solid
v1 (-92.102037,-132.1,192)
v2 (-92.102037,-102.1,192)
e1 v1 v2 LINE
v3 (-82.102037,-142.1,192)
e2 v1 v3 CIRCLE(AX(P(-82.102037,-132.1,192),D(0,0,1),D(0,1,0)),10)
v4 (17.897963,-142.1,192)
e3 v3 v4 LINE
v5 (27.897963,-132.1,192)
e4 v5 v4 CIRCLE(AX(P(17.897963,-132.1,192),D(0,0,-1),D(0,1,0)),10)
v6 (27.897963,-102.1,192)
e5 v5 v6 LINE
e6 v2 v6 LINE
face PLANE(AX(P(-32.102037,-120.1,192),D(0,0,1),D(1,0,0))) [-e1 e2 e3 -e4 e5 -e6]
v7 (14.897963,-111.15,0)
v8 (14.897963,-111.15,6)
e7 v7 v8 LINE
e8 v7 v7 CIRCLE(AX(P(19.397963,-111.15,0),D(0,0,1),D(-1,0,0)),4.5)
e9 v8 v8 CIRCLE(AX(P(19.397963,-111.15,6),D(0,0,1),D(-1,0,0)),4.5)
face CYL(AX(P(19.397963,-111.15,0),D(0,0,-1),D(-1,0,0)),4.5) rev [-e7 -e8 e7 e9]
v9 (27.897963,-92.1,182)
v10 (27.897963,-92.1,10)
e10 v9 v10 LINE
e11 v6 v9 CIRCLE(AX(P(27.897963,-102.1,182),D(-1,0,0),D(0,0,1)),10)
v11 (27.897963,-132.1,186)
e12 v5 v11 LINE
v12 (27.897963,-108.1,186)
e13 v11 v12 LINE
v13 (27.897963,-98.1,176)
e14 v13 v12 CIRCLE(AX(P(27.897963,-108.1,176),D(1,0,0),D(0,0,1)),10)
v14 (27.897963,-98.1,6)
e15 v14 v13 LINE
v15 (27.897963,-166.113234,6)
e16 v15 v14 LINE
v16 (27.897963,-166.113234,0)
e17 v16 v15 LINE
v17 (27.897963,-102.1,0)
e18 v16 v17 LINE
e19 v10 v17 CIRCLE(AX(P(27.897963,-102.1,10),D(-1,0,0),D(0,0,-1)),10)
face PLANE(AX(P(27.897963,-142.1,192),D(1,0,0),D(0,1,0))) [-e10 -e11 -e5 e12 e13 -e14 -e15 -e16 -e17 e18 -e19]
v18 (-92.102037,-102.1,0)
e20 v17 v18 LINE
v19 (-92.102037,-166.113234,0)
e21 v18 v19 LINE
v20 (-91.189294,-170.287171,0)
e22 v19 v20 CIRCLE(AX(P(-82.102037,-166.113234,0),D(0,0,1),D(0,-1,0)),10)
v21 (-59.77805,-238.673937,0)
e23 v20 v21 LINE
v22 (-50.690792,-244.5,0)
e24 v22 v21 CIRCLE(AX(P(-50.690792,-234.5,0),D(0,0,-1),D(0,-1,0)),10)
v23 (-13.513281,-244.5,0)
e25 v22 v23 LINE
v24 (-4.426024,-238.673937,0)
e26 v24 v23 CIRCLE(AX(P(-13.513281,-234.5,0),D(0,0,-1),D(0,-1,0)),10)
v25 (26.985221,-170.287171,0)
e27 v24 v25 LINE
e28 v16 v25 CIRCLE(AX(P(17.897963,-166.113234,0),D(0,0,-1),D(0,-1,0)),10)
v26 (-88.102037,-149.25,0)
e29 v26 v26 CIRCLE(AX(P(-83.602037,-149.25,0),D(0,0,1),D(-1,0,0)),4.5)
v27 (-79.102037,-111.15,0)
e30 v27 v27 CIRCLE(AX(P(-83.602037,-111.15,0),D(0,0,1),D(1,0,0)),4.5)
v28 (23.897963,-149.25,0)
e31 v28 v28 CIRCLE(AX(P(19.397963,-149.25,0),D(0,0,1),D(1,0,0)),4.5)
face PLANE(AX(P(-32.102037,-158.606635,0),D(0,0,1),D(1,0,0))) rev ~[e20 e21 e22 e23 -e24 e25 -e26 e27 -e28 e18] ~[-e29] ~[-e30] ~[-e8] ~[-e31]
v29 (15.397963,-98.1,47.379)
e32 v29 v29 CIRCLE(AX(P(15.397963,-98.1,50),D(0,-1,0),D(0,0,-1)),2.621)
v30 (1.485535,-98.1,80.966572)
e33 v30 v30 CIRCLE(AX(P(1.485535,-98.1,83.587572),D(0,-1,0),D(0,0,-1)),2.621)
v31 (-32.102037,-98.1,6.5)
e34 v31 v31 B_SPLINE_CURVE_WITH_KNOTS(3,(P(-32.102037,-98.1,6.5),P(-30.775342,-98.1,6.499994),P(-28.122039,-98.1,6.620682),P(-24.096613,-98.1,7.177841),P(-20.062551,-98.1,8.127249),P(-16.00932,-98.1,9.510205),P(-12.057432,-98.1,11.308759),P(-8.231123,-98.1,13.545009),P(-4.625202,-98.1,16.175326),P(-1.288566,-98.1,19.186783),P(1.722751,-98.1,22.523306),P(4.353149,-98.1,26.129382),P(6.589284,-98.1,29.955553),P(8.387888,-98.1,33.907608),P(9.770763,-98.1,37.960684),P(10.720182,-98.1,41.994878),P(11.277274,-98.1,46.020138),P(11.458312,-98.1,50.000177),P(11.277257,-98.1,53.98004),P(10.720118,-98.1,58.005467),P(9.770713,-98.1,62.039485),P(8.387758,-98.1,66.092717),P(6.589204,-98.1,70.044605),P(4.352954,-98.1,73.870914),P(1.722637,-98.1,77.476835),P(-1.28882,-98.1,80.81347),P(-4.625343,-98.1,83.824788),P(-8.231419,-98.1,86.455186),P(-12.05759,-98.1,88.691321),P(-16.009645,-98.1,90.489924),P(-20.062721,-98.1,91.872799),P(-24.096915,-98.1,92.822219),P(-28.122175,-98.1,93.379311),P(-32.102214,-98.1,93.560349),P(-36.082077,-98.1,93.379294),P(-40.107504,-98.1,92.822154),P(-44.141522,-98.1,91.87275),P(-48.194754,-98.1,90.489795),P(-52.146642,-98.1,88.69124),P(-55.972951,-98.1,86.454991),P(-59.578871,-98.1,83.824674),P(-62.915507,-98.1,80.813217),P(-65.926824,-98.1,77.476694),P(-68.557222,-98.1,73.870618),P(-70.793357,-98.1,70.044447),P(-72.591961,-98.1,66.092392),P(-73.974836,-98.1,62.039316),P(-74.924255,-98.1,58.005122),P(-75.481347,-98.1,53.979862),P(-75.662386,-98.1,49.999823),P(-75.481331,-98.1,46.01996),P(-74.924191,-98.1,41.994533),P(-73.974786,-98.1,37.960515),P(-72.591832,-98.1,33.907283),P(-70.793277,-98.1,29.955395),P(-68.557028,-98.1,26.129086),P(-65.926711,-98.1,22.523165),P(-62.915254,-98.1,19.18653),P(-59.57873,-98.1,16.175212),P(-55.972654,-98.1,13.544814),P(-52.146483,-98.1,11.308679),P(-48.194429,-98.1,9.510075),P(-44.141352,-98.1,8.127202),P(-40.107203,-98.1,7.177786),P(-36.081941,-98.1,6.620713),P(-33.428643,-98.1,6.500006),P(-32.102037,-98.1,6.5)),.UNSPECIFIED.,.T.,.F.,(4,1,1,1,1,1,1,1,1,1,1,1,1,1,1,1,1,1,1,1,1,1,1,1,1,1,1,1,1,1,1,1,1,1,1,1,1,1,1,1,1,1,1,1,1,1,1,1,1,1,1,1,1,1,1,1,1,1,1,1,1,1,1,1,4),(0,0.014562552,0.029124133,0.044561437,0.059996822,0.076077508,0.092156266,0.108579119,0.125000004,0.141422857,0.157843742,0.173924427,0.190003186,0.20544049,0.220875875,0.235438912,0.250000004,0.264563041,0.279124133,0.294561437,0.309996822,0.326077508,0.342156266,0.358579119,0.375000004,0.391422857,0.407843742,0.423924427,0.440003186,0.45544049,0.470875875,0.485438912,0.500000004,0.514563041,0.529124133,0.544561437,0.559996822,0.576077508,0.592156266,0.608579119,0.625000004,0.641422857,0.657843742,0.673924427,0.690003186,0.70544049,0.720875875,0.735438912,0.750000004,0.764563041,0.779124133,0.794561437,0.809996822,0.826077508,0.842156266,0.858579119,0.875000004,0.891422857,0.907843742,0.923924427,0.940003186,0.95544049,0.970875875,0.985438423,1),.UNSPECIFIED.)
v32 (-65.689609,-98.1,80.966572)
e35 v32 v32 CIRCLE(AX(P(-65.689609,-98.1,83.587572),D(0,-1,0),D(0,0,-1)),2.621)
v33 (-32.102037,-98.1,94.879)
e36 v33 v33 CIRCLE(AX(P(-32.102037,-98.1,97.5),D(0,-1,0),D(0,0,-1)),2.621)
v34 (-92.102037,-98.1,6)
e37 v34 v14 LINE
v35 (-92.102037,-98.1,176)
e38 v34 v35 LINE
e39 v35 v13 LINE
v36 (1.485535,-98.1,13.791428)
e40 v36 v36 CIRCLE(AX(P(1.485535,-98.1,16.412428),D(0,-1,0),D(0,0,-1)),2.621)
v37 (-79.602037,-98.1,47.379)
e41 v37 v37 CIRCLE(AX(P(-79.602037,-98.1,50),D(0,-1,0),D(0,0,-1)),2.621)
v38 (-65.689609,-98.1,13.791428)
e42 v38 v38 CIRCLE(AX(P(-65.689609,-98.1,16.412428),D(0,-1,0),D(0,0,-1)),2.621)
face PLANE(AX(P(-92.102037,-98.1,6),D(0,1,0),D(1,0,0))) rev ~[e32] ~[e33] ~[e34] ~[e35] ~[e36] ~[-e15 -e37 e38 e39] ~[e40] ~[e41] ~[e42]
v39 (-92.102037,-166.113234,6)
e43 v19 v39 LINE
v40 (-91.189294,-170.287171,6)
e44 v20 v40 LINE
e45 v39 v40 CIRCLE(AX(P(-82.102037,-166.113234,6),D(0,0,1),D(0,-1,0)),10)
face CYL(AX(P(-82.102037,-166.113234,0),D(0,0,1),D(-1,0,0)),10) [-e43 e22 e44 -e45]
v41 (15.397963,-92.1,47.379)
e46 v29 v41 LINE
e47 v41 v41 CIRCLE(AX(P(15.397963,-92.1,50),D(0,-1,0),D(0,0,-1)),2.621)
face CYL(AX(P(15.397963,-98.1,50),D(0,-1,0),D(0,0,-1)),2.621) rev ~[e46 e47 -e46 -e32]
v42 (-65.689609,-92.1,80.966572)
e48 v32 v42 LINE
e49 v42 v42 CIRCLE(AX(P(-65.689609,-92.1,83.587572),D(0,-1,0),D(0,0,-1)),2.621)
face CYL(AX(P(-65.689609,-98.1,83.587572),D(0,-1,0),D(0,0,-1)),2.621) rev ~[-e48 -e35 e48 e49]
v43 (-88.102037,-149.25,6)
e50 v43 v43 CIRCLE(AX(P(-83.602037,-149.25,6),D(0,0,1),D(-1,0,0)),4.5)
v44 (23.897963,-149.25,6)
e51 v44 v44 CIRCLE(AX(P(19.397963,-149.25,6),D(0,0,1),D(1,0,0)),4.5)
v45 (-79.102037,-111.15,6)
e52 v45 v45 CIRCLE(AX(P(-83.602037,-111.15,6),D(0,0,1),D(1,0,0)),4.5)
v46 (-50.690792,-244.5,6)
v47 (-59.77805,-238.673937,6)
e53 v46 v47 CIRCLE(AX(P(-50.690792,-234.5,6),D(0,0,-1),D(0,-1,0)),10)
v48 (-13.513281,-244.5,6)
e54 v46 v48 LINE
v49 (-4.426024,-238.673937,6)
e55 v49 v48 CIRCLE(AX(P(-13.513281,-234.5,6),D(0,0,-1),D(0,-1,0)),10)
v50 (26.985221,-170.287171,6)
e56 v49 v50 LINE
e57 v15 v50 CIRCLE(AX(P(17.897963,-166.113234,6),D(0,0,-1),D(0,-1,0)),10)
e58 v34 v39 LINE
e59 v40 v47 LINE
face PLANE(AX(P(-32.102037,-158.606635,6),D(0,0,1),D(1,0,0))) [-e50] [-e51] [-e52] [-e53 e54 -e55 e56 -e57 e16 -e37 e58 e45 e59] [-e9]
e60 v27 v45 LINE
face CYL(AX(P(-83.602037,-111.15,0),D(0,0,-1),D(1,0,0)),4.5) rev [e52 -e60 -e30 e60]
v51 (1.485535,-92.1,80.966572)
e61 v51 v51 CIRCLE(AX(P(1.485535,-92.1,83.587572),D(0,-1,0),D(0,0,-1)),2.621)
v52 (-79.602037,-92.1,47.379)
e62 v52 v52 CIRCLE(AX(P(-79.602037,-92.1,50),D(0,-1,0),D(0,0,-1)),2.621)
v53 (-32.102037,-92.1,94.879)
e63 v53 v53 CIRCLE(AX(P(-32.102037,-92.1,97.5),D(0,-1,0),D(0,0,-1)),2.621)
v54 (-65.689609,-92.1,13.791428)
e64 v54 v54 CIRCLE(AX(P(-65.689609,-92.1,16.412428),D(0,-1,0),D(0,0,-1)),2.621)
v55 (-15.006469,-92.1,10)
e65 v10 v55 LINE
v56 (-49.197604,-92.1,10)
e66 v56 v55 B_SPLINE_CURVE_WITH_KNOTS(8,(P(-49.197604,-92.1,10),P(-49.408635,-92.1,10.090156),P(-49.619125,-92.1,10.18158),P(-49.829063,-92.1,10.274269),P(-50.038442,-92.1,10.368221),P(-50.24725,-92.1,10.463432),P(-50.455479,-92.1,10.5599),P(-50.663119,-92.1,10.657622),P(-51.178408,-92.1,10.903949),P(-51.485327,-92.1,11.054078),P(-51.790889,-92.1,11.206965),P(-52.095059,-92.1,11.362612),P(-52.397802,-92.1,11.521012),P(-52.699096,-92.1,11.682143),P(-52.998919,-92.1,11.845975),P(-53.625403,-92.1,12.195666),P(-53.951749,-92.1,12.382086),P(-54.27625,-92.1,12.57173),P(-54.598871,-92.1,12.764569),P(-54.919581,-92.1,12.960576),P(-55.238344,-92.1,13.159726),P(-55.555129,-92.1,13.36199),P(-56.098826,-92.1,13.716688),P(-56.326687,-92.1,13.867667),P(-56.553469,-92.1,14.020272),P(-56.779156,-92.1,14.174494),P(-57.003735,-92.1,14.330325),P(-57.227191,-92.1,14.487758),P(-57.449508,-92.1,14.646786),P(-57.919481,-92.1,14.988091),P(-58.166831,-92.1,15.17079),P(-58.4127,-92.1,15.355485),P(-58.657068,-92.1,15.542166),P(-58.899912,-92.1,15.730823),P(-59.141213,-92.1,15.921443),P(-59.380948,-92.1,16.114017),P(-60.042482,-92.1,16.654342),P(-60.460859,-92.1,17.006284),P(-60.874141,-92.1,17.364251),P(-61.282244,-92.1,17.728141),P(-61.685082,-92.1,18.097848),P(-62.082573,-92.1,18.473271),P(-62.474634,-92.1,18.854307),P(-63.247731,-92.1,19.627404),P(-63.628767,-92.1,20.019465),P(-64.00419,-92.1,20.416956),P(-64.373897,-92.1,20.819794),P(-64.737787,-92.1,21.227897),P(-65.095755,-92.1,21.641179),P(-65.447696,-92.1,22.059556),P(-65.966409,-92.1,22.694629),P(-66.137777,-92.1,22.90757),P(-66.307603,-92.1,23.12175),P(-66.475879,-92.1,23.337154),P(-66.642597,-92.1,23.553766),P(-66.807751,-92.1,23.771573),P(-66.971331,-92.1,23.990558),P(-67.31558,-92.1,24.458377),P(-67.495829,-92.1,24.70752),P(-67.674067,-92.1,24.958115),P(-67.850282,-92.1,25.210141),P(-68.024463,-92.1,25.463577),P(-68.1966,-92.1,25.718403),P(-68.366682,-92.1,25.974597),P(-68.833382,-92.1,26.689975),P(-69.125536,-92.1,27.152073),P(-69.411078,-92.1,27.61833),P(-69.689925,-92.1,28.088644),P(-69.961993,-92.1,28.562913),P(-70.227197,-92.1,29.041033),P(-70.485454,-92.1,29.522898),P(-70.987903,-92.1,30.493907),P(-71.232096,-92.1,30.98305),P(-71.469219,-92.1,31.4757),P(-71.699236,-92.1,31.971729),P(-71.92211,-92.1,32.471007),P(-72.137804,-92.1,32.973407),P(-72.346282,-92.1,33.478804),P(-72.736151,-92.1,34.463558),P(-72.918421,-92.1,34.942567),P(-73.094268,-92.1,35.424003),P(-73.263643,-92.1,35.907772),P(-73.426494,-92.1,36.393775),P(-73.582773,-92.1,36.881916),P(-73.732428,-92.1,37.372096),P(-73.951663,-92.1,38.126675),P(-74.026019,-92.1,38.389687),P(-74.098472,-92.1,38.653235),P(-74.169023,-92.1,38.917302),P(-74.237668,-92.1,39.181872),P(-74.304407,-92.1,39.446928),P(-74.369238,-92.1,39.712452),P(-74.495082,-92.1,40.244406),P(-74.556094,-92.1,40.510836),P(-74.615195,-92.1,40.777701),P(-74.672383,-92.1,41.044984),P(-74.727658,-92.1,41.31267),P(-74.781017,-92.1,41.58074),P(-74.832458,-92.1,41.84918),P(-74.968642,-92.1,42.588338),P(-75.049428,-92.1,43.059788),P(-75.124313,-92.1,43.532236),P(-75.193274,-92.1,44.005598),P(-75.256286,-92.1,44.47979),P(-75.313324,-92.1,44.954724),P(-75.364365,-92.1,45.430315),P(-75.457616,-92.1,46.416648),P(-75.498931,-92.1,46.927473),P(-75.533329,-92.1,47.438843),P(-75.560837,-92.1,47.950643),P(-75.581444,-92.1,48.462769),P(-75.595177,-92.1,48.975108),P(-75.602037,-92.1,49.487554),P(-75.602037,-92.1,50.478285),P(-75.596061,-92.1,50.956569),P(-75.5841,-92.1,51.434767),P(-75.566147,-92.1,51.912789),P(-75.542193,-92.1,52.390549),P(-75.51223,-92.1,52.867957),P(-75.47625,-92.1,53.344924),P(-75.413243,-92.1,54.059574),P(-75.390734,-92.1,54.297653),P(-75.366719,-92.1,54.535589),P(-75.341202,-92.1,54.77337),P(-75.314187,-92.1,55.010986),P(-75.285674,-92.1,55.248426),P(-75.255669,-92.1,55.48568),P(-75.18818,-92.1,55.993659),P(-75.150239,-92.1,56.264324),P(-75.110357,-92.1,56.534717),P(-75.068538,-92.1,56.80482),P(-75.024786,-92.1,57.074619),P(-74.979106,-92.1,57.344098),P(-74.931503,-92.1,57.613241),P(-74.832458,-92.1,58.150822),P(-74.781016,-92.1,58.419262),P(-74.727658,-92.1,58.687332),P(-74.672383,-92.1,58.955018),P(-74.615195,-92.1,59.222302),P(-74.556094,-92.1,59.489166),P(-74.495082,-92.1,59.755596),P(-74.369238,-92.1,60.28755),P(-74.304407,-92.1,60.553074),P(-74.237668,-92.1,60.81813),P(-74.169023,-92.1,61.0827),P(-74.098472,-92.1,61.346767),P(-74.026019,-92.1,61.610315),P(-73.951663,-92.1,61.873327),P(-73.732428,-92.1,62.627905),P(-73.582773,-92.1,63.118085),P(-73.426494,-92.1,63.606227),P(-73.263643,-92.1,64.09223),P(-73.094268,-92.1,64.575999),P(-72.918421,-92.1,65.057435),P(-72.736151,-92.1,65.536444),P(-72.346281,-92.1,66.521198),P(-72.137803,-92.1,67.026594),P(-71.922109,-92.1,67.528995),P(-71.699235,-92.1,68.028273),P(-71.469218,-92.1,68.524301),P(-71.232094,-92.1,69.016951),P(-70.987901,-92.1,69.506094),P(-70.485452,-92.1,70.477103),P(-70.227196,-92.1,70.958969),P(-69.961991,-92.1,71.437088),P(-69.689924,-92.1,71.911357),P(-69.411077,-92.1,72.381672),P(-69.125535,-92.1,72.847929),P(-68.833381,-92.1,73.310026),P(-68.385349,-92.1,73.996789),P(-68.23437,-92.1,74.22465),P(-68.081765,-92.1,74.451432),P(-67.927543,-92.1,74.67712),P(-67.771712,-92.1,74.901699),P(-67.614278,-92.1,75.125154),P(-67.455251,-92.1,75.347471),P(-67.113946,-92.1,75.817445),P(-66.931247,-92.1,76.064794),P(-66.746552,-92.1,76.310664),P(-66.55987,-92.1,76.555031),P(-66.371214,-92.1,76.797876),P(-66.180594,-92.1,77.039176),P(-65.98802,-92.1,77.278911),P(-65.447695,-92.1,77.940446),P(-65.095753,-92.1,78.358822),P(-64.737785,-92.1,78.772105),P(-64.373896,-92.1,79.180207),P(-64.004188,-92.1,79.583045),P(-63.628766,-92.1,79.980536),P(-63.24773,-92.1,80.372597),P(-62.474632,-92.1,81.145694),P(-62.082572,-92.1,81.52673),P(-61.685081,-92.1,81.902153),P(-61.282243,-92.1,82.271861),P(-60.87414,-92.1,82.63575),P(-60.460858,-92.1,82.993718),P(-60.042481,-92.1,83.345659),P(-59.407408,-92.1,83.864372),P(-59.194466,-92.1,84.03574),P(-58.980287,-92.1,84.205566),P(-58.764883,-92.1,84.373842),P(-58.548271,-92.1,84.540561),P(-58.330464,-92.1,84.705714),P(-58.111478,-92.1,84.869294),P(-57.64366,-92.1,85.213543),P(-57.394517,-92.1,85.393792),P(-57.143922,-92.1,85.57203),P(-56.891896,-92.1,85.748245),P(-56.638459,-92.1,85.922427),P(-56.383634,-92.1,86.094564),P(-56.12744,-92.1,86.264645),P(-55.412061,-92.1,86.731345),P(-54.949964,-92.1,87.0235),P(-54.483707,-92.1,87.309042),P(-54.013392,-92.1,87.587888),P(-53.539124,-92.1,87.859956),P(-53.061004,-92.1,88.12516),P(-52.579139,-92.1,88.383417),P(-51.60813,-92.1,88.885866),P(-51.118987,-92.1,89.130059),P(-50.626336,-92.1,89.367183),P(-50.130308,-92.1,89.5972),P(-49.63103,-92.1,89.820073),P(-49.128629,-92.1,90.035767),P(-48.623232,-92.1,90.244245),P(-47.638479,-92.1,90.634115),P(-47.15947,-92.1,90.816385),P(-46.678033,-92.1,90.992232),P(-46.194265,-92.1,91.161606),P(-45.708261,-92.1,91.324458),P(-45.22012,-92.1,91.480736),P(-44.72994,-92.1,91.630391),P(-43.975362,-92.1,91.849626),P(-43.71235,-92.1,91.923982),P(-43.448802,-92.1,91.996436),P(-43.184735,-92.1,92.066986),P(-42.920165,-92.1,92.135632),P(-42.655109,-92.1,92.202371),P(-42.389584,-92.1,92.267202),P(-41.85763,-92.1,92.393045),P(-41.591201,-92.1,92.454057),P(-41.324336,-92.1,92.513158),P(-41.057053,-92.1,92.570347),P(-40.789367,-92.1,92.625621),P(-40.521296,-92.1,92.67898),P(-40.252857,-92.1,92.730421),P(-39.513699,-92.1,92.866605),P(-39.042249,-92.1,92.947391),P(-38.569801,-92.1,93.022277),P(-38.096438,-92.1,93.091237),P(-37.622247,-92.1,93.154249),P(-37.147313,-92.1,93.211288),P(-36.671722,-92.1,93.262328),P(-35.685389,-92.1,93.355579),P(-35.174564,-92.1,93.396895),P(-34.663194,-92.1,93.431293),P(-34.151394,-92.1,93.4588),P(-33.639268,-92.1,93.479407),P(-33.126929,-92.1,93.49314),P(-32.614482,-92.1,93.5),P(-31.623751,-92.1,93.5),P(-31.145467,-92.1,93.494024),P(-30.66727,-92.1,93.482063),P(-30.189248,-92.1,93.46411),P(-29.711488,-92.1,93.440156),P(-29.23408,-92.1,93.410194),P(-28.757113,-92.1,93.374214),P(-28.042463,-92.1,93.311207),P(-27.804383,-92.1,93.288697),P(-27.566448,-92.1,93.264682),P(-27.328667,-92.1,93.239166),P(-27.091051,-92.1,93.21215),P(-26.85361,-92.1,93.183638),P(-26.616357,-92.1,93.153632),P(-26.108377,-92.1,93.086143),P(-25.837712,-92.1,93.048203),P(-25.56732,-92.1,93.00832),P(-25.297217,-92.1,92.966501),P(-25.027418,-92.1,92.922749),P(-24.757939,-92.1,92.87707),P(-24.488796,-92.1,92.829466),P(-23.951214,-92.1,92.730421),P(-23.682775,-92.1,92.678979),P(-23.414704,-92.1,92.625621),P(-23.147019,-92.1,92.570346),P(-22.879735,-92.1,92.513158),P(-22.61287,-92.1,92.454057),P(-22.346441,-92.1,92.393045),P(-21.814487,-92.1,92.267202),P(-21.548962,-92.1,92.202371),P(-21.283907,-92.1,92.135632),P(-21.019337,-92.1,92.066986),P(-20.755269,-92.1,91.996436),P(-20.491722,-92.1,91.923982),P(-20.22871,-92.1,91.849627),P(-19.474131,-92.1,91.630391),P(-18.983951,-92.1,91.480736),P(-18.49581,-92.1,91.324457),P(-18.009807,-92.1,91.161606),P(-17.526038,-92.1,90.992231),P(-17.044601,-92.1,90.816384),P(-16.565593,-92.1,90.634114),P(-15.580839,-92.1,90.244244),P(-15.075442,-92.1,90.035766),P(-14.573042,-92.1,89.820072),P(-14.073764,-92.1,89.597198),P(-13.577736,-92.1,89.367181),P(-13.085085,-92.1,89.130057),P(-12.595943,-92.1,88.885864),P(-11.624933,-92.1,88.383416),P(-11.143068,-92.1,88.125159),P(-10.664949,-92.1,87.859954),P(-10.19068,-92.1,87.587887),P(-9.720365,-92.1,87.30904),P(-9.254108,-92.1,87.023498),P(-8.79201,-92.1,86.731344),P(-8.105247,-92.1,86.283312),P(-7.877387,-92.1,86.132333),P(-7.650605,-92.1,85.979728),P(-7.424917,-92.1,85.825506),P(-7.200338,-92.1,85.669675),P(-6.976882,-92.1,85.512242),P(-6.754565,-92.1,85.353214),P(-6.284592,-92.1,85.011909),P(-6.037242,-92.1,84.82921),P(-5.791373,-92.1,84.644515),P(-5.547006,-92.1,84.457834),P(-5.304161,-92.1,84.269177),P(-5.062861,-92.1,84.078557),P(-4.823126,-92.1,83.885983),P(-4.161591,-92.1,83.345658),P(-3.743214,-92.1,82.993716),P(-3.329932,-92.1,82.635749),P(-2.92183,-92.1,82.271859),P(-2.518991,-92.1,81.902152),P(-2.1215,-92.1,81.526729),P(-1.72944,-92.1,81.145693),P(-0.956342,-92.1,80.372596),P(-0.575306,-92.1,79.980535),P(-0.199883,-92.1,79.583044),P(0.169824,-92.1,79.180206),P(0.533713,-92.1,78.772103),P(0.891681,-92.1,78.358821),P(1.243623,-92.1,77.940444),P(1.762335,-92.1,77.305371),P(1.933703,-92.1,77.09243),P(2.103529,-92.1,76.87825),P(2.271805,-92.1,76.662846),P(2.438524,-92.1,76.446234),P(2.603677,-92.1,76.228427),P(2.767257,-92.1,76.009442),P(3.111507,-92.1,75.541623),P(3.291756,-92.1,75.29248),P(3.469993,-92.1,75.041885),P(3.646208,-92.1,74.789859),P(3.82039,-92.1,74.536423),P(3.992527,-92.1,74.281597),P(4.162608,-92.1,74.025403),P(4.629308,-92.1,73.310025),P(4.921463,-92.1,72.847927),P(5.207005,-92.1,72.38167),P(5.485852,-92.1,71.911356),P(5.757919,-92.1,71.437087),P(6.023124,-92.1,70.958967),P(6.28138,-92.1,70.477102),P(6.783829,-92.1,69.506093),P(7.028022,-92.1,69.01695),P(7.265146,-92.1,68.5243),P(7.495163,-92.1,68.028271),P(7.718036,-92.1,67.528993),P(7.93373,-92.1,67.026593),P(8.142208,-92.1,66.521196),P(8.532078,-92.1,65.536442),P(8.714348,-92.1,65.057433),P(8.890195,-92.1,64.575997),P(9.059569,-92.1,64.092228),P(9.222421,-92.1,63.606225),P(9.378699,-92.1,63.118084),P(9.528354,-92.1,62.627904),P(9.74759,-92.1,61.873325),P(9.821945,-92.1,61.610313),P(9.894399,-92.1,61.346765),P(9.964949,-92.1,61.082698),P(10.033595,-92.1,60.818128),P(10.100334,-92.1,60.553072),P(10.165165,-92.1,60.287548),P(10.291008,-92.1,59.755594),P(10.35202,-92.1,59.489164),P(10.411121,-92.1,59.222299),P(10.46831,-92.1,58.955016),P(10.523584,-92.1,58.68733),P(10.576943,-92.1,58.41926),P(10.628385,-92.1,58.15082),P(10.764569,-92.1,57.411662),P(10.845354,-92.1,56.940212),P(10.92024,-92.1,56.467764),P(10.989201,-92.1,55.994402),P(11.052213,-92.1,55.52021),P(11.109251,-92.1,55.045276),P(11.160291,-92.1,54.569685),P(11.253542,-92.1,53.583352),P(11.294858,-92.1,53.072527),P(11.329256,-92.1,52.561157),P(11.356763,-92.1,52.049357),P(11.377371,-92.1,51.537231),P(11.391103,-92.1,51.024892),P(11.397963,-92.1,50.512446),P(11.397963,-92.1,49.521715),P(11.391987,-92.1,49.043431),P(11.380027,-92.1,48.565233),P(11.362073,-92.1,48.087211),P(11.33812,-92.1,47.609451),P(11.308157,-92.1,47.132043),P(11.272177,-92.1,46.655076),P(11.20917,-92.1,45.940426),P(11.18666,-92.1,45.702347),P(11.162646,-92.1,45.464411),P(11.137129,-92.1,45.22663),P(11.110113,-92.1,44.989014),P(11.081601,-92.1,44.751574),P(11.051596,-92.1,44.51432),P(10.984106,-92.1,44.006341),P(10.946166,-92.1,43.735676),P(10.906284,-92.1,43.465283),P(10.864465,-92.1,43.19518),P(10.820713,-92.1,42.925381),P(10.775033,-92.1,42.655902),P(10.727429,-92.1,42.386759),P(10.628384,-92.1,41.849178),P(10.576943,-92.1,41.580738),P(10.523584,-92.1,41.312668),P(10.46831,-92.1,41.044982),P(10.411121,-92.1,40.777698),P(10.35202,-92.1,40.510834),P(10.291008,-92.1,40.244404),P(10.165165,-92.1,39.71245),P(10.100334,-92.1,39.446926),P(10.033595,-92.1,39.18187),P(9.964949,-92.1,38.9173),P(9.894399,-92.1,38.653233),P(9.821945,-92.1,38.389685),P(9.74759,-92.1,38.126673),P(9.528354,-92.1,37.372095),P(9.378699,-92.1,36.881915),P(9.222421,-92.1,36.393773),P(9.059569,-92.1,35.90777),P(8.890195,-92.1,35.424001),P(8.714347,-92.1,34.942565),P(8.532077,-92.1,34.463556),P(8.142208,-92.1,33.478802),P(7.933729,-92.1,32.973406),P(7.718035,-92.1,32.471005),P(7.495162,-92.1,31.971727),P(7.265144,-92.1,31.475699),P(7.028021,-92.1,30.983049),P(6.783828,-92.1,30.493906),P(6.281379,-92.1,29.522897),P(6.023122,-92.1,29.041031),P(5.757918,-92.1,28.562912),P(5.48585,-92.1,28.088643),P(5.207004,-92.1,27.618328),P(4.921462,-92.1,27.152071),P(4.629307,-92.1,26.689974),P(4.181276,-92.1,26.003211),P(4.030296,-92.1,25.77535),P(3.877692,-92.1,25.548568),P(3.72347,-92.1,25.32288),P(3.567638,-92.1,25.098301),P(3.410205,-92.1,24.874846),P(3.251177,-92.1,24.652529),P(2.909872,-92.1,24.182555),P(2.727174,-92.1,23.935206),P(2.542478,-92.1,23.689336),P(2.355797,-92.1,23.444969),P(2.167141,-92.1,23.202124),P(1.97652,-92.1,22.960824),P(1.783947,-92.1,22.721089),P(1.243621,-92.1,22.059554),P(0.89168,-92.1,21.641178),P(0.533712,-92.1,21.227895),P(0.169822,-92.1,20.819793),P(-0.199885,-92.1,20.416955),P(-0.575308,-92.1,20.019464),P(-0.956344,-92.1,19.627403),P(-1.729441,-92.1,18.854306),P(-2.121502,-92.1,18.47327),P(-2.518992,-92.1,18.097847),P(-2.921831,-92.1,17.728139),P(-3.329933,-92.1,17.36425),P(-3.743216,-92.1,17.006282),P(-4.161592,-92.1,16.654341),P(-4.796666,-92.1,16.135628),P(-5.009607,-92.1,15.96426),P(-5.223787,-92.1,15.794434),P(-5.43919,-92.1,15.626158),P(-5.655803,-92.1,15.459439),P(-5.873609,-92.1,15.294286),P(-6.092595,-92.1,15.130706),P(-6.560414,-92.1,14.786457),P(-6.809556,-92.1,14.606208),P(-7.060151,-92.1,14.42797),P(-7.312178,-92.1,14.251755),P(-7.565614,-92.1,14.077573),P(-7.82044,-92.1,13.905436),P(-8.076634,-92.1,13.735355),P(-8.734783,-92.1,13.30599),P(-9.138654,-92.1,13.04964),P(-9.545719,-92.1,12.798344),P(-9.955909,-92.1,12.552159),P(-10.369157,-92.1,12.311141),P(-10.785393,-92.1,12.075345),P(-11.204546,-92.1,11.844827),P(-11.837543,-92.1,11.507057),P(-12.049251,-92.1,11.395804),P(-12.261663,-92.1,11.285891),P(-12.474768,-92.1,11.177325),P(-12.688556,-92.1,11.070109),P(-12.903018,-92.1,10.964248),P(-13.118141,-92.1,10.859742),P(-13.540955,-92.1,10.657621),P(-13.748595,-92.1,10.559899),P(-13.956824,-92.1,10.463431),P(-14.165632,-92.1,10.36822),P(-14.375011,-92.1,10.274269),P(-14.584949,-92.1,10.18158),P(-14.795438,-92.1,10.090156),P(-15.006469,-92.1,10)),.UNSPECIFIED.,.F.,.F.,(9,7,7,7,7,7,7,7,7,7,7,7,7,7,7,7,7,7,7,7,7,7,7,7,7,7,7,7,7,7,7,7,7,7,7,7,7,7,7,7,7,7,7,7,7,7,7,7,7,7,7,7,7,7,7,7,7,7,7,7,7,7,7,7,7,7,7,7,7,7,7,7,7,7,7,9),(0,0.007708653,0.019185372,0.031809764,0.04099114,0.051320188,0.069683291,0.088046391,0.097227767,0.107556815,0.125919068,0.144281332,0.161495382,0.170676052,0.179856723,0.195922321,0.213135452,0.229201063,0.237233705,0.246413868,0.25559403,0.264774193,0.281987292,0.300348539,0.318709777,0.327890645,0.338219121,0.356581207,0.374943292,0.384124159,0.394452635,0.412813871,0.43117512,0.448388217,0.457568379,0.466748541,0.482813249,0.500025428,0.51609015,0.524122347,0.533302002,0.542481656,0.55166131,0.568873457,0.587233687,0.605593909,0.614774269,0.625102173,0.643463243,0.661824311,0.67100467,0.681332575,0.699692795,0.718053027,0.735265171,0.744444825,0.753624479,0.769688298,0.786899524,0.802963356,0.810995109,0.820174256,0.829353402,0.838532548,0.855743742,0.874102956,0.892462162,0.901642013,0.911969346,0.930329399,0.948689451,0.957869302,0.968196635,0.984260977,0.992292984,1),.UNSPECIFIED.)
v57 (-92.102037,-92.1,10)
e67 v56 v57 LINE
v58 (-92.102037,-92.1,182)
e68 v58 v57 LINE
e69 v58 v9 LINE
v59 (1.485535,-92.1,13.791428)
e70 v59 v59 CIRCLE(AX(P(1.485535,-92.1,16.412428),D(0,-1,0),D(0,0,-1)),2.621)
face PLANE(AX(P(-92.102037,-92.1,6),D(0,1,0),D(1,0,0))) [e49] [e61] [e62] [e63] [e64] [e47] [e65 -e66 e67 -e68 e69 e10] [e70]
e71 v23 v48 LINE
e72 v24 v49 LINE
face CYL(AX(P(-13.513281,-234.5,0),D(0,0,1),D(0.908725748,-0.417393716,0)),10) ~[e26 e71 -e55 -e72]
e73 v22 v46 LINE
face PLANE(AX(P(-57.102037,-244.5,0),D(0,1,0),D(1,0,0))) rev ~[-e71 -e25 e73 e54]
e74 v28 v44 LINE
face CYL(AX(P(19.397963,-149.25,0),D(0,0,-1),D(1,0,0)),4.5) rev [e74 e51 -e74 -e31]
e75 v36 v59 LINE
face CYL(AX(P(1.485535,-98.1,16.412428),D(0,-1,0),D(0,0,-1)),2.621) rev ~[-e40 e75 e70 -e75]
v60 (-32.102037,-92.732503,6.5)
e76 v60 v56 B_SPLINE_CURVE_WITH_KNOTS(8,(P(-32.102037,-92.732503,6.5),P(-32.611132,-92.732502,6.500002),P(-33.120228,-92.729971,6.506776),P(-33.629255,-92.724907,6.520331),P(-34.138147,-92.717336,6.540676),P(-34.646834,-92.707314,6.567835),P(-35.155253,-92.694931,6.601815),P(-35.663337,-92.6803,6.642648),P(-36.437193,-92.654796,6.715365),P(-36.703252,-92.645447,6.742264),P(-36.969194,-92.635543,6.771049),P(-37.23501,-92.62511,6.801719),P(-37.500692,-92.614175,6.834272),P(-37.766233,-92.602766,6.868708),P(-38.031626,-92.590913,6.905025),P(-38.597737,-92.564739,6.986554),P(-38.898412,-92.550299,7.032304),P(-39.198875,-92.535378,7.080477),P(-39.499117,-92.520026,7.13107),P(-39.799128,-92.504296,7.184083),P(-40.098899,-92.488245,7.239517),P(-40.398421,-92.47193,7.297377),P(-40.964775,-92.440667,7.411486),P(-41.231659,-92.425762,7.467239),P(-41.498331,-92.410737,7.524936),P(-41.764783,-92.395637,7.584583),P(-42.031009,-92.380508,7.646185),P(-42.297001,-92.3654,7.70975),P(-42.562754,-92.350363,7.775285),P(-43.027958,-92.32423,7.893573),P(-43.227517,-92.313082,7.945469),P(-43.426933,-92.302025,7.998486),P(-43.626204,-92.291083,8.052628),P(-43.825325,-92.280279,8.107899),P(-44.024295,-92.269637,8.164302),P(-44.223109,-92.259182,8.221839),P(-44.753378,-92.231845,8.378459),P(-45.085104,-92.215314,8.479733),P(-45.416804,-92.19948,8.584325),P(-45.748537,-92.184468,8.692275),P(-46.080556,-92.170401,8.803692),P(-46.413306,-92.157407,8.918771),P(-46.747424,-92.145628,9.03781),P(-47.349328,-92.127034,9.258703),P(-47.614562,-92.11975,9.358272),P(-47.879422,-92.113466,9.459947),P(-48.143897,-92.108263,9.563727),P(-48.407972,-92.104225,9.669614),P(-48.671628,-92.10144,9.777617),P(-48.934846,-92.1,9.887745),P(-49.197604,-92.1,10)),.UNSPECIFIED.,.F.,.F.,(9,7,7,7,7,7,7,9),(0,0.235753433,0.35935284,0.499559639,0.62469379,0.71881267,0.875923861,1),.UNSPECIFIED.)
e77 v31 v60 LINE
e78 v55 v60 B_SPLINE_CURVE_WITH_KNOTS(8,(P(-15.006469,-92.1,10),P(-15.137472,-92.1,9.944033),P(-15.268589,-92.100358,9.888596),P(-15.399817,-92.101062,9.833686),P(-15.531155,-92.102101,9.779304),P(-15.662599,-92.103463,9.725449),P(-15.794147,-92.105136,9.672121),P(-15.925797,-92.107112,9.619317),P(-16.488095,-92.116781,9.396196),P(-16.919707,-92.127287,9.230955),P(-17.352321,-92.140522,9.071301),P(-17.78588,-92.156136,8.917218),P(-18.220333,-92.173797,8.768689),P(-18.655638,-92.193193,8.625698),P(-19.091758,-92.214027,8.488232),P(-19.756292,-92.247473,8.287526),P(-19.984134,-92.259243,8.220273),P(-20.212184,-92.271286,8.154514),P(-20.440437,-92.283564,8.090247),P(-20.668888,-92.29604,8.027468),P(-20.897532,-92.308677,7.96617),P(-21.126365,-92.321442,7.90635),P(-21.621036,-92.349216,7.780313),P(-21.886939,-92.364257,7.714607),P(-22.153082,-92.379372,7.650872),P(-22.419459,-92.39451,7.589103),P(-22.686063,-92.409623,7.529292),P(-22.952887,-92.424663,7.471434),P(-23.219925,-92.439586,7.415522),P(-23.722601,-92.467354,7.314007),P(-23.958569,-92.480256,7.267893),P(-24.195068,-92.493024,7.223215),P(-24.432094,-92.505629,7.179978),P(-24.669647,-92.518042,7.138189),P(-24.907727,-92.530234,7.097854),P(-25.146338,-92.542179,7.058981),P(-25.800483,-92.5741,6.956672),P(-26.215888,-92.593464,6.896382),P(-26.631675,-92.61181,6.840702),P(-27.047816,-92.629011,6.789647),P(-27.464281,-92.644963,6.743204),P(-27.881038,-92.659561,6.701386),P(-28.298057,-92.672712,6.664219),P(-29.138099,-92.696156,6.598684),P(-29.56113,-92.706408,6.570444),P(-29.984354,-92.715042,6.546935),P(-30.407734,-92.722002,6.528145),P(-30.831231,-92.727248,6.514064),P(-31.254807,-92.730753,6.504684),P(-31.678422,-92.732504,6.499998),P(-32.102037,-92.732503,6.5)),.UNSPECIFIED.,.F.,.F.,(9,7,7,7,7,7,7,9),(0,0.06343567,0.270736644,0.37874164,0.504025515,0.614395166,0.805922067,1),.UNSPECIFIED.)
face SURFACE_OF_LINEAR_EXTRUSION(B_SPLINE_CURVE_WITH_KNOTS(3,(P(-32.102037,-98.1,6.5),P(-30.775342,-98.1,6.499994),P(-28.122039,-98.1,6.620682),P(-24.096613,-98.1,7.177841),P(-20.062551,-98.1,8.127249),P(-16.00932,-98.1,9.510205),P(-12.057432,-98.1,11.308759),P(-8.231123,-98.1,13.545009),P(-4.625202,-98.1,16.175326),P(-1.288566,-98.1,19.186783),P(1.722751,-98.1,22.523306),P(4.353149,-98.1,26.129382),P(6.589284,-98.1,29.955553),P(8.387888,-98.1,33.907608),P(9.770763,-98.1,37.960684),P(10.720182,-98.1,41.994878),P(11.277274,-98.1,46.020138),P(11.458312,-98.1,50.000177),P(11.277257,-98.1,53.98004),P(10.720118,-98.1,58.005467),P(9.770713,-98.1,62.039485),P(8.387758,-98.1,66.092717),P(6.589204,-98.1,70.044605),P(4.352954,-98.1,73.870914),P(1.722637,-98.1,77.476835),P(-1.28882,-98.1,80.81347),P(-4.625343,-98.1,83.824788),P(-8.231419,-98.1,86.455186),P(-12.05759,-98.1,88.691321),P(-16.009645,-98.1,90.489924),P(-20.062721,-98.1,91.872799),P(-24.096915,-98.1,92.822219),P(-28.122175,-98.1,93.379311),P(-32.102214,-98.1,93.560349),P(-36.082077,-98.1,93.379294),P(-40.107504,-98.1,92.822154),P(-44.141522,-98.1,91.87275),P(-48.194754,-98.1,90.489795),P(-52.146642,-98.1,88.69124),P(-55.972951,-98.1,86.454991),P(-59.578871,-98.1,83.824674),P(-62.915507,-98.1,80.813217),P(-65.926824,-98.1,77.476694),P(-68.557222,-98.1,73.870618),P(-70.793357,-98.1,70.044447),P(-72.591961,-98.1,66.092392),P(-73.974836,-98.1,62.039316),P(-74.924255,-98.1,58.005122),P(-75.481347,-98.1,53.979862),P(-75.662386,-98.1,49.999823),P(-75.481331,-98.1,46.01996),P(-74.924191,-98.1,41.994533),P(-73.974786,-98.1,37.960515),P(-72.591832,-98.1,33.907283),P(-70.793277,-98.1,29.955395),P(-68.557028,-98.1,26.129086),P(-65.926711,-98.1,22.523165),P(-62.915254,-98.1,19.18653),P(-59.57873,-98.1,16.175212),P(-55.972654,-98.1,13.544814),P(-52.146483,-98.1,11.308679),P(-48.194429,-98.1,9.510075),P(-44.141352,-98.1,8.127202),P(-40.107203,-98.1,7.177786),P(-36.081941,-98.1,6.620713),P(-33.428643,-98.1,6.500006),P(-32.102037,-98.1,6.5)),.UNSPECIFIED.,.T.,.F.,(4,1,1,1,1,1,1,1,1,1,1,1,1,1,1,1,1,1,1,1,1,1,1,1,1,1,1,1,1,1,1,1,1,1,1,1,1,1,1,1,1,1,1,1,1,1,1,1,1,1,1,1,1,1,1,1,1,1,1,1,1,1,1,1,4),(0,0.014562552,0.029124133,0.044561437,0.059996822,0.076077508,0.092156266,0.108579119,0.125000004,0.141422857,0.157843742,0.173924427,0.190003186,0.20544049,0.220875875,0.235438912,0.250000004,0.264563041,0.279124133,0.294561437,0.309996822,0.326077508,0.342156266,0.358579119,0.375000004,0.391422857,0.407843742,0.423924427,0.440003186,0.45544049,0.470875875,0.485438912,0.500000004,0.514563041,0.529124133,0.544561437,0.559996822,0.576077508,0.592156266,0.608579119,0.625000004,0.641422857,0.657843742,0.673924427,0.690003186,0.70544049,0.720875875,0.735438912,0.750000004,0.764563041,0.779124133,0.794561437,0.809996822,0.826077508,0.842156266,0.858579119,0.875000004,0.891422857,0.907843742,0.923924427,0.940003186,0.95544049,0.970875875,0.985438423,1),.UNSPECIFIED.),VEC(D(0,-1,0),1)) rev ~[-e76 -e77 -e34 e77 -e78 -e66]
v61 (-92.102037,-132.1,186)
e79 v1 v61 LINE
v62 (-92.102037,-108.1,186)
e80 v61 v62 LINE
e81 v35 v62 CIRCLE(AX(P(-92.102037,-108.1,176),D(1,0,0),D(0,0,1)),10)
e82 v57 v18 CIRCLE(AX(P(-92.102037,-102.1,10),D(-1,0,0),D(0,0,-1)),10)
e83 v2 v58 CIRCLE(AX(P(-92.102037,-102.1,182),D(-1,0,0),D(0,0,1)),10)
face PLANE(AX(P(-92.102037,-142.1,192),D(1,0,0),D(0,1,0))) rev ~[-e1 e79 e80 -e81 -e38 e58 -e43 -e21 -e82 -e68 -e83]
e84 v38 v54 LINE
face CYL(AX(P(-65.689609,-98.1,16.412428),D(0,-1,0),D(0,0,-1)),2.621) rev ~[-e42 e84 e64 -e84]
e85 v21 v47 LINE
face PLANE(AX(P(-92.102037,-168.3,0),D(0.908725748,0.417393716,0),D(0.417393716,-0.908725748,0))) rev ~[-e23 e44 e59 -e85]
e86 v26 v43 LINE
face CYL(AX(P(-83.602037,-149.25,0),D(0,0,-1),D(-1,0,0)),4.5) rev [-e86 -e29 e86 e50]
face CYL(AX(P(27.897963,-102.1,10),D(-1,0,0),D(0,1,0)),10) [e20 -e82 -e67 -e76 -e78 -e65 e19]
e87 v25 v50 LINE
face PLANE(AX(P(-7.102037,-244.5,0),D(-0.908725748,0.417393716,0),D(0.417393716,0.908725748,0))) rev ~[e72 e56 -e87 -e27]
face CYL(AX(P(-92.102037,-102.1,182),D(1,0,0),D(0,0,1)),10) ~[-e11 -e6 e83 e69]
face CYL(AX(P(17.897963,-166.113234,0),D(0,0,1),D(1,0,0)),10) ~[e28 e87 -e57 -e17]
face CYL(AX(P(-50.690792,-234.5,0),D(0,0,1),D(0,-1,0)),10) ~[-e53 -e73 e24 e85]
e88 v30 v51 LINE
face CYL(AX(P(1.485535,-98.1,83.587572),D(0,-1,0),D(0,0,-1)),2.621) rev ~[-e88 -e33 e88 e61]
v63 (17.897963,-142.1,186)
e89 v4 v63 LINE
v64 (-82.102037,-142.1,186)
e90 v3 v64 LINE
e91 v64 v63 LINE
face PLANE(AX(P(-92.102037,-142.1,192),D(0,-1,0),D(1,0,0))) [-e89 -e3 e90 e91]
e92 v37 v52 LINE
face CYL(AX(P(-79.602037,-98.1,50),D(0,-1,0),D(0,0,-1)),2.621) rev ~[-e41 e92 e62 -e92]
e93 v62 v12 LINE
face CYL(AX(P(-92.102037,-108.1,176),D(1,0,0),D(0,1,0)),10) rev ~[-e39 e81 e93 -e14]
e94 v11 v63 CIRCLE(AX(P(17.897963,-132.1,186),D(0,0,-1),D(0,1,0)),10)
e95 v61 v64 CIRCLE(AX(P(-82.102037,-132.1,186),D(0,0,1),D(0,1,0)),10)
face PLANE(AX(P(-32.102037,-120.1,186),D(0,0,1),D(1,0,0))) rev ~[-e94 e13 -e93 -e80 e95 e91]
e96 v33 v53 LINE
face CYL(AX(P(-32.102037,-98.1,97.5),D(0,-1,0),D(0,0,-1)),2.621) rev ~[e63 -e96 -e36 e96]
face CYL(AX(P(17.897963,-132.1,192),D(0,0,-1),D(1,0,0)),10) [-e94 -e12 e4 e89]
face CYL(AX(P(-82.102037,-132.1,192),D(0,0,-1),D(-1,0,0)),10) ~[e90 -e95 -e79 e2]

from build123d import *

# Parameters (mm, degrees)
CROQUIS1_R              = 4.5
SALIENTE_EXTRUIR1_DEPTH = 6
CROQUIS2_W              = 120
CROQUIS2_H              = 6
SALIENTE_EXTRUIR2_DEPTH = 186
CROQUIS3_W              = 120
CROQUIS3_H              = 44
SALIENTE_EXTRUIR3_DEPTH = 6
REDONDEO1_R             = 10
CROQUIS4_R              = 2.621
CORTAR_EXTRUIR1_DEPTH   = 259.417772547


with BuildPart() as part:
    # Croquis1 → Saliente-Extruir1 (new body)
    with BuildSketch(Plane.XY):
        Polygon((-92.102036721, -168.3), (-57.102036721, -244.5), (-7.102036721, -244.5), (27.897963279, -168.3), (27.897963279, -92.1), (-92.102036721, -92.1), align=None)
        with Locations((-83.602036721, -111.15)):
            Circle(CROQUIS1_R, mode=Mode.SUBTRACT)
        with Locations(Location((-83.602036721, -149.25, 0), (0, 0, 180))):
            Circle(CROQUIS1_R, mode=Mode.SUBTRACT)
        with Locations((19.397963279, -149.25)):
            Circle(CROQUIS1_R, mode=Mode.SUBTRACT)
        with Locations(Location((19.397963279, -111.15, 0), (0, 0, 180))):
            Circle(CROQUIS1_R, mode=Mode.SUBTRACT)
    extrude(amount=SALIENTE_EXTRUIR1_DEPTH)

    # Croquis2 → Saliente-Extruir2 (add)
    with BuildSketch(Plane.XY.offset(6)):
        with Locations((-32.102036721, -95.1)):
            Rectangle(CROQUIS2_W, CROQUIS2_H)
    extrude(amount=SALIENTE_EXTRUIR2_DEPTH)

    # Croquis3 → Saliente-Extruir3 (add)
    with BuildSketch(Plane.XY.offset(192)):
        with Locations((-32.102036721, -120.1)):
            Rectangle(CROQUIS3_W, CROQUIS3_H)
    extrude(amount=-SALIENTE_EXTRUIR3_DEPTH)

    # Redondeo1
    redondeo1_edges = [part.edges().sort_by_distance(p)[0] for p in [
        (27.897963279, -168.3, 3),
        (-7.102036721, -244.5, 3),
        (-57.102036721, -244.5, 3),
        (-92.102036721, -168.3, 3),
        (-32.102036721, -92.1, 192),
        (-92.102036721, -142.1, 189),
        (-32.102036721, -98.1, 186),
        (27.897963279, -142.1, 189),
        (-32.102036721, -92.1, 0),
    ]]
    fillet(redondeo1_edges, radius=REDONDEO1_R)

    # Croquis4 → Cortar-Extruir1 (cut, through all)
    with BuildSketch(Plane.XZ.offset(98.1)):
        with Locations(Location((1.485535385, 83.587572106, 0), (0, 0, 270))):
            Circle(CROQUIS4_R)
        with Locations(Location((-65.689608828, 16.412427894, 0), (0, 0, 270))):
            Circle(CROQUIS4_R)
        with Locations(Location((15.397963279, 50, 0), (0, 0, 270))):
            Circle(CROQUIS4_R)
        with Locations(Location((1.485535385, 16.412427894, 0), (0, 0, 270))):
            Circle(CROQUIS4_R)
        with Locations(Location((-65.689608828, 83.587572106, 0), (0, 0, 270))):
            Circle(CROQUIS4_R)
        with Locations(Location((-32.102036721, 97.5, 0), (0, 0, 270))):
            Circle(CROQUIS4_R)
        with Locations(Location((-79.602036721, 50, 0), (0, 0, 270))):
            Circle(CROQUIS4_R)
        with BuildLine():
            add(Edge.make_bspline(
                [(-32.102036721, 6.5), (-30.775341976, 6.499993534), (-28.122039283, 6.620682339), (-24.096613371, 7.177840976), (-20.062551193, 8.127248902), (-16.009319538, 9.510205402), (-12.057431762, 11.308759473), (-8.231122582, 13.545008905), (-4.625202085, 16.175326085), (-1.288566333, 19.186782917), (1.722751008, 22.523306389), (4.353148795, 26.129382286), (6.589284057, 29.95555323), (8.387887512, 33.907608072), (9.770762576, 37.960684071), (10.720181934, 41.994878278), (11.277273839, 46.020137925), (11.45831212, 50.000176972), (11.277257351, 53.980039938), (10.720117639, 58.005467444), (9.770712855, 62.03948534), (8.387758304, 66.092717236), (6.589203689, 70.044604944), (4.352954406, 73.870914143), (1.722637185, 77.476834635), (-1.288819636, 80.813470389), (-4.62534311, 83.824787729), (-8.231419007, 86.455185516), (-12.057589951, 88.691320778), (-16.009644794, 90.489924234), (-20.062720792, 91.872799297), (-24.096914999, 92.822218655), (-28.122174647, 93.37931056), (-32.102213693, 93.560348842), (-36.082076659, 93.379294072), (-40.107504165, 92.82215436), (-44.141522061, 91.872749576), (-48.194753957, 90.489795025), (-52.146641666, 88.691240411), (-55.972950865, 86.454991127), (-59.578871356, 83.824673906), (-62.91550711, 80.813217085), (-65.92682445, 77.476693611), (-68.557222237, 73.870617714), (-70.7933575, 70.04444677), (-72.591960955, 66.092391928), (-73.974836018, 62.039315929), (-74.924255376, 58.005121722), (-75.481347281, 53.979862075), (-75.662385563, 49.999823028), (-75.481330794, 46.019960062), (-74.924191081, 41.994532556), (-73.974786297, 37.96051466), (-72.591831746, 33.907282764), (-70.793277132, 29.955395056), (-68.557027848, 26.129085856), (-65.926710628, 22.523165366), (-62.915253807, 19.186529609), (-59.578730331, 16.17521228), (-55.972654439, 13.544814452), (-52.146483477, 11.308679338), (-48.194428701, 9.51007534), (-44.141352462, 8.127202224), (-40.107202532, 7.177786011), (-36.081941291, 6.620713021), (-33.428642641, 6.500006466), (-32.102036721, 6.5)],
                knots=[0, 0, 0, 0, 0.014562552, 0.029124133, 0.044561437, 0.059996822, 0.076077508, 0.092156266, 0.108579119, 0.125000004, 0.141422857, 0.157843742, 0.173924427, 0.190003186, 0.20544049, 0.220875875, 0.235438912, 0.250000004, 0.264563041, 0.279124133, 0.294561437, 0.309996822, 0.326077508, 0.342156266, 0.358579119, 0.375000004, 0.391422857, 0.407843742, 0.423924427, 0.440003186, 0.45544049, 0.470875875, 0.485438912, 0.500000004, 0.514563041, 0.529124133, 0.544561437, 0.559996822, 0.576077508, 0.592156266, 0.608579119, 0.625000004, 0.641422857, 0.657843742, 0.673924427, 0.690003186, 0.70544049, 0.720875875, 0.735438912, 0.750000004, 0.764563041, 0.779124133, 0.794561437, 0.809996822, 0.826077508, 0.842156266, 0.858579119, 0.875000004, 0.891422857, 0.907843742, 0.923924427, 0.940003186, 0.95544049, 0.970875875, 0.985438423, 1, 1, 1, 1], degree=3))
        make_face()
    extrude(amount=-CORTAR_EXTRUIR1_DEPTH, mode=Mode.SUBTRACT)


solid = part.part
